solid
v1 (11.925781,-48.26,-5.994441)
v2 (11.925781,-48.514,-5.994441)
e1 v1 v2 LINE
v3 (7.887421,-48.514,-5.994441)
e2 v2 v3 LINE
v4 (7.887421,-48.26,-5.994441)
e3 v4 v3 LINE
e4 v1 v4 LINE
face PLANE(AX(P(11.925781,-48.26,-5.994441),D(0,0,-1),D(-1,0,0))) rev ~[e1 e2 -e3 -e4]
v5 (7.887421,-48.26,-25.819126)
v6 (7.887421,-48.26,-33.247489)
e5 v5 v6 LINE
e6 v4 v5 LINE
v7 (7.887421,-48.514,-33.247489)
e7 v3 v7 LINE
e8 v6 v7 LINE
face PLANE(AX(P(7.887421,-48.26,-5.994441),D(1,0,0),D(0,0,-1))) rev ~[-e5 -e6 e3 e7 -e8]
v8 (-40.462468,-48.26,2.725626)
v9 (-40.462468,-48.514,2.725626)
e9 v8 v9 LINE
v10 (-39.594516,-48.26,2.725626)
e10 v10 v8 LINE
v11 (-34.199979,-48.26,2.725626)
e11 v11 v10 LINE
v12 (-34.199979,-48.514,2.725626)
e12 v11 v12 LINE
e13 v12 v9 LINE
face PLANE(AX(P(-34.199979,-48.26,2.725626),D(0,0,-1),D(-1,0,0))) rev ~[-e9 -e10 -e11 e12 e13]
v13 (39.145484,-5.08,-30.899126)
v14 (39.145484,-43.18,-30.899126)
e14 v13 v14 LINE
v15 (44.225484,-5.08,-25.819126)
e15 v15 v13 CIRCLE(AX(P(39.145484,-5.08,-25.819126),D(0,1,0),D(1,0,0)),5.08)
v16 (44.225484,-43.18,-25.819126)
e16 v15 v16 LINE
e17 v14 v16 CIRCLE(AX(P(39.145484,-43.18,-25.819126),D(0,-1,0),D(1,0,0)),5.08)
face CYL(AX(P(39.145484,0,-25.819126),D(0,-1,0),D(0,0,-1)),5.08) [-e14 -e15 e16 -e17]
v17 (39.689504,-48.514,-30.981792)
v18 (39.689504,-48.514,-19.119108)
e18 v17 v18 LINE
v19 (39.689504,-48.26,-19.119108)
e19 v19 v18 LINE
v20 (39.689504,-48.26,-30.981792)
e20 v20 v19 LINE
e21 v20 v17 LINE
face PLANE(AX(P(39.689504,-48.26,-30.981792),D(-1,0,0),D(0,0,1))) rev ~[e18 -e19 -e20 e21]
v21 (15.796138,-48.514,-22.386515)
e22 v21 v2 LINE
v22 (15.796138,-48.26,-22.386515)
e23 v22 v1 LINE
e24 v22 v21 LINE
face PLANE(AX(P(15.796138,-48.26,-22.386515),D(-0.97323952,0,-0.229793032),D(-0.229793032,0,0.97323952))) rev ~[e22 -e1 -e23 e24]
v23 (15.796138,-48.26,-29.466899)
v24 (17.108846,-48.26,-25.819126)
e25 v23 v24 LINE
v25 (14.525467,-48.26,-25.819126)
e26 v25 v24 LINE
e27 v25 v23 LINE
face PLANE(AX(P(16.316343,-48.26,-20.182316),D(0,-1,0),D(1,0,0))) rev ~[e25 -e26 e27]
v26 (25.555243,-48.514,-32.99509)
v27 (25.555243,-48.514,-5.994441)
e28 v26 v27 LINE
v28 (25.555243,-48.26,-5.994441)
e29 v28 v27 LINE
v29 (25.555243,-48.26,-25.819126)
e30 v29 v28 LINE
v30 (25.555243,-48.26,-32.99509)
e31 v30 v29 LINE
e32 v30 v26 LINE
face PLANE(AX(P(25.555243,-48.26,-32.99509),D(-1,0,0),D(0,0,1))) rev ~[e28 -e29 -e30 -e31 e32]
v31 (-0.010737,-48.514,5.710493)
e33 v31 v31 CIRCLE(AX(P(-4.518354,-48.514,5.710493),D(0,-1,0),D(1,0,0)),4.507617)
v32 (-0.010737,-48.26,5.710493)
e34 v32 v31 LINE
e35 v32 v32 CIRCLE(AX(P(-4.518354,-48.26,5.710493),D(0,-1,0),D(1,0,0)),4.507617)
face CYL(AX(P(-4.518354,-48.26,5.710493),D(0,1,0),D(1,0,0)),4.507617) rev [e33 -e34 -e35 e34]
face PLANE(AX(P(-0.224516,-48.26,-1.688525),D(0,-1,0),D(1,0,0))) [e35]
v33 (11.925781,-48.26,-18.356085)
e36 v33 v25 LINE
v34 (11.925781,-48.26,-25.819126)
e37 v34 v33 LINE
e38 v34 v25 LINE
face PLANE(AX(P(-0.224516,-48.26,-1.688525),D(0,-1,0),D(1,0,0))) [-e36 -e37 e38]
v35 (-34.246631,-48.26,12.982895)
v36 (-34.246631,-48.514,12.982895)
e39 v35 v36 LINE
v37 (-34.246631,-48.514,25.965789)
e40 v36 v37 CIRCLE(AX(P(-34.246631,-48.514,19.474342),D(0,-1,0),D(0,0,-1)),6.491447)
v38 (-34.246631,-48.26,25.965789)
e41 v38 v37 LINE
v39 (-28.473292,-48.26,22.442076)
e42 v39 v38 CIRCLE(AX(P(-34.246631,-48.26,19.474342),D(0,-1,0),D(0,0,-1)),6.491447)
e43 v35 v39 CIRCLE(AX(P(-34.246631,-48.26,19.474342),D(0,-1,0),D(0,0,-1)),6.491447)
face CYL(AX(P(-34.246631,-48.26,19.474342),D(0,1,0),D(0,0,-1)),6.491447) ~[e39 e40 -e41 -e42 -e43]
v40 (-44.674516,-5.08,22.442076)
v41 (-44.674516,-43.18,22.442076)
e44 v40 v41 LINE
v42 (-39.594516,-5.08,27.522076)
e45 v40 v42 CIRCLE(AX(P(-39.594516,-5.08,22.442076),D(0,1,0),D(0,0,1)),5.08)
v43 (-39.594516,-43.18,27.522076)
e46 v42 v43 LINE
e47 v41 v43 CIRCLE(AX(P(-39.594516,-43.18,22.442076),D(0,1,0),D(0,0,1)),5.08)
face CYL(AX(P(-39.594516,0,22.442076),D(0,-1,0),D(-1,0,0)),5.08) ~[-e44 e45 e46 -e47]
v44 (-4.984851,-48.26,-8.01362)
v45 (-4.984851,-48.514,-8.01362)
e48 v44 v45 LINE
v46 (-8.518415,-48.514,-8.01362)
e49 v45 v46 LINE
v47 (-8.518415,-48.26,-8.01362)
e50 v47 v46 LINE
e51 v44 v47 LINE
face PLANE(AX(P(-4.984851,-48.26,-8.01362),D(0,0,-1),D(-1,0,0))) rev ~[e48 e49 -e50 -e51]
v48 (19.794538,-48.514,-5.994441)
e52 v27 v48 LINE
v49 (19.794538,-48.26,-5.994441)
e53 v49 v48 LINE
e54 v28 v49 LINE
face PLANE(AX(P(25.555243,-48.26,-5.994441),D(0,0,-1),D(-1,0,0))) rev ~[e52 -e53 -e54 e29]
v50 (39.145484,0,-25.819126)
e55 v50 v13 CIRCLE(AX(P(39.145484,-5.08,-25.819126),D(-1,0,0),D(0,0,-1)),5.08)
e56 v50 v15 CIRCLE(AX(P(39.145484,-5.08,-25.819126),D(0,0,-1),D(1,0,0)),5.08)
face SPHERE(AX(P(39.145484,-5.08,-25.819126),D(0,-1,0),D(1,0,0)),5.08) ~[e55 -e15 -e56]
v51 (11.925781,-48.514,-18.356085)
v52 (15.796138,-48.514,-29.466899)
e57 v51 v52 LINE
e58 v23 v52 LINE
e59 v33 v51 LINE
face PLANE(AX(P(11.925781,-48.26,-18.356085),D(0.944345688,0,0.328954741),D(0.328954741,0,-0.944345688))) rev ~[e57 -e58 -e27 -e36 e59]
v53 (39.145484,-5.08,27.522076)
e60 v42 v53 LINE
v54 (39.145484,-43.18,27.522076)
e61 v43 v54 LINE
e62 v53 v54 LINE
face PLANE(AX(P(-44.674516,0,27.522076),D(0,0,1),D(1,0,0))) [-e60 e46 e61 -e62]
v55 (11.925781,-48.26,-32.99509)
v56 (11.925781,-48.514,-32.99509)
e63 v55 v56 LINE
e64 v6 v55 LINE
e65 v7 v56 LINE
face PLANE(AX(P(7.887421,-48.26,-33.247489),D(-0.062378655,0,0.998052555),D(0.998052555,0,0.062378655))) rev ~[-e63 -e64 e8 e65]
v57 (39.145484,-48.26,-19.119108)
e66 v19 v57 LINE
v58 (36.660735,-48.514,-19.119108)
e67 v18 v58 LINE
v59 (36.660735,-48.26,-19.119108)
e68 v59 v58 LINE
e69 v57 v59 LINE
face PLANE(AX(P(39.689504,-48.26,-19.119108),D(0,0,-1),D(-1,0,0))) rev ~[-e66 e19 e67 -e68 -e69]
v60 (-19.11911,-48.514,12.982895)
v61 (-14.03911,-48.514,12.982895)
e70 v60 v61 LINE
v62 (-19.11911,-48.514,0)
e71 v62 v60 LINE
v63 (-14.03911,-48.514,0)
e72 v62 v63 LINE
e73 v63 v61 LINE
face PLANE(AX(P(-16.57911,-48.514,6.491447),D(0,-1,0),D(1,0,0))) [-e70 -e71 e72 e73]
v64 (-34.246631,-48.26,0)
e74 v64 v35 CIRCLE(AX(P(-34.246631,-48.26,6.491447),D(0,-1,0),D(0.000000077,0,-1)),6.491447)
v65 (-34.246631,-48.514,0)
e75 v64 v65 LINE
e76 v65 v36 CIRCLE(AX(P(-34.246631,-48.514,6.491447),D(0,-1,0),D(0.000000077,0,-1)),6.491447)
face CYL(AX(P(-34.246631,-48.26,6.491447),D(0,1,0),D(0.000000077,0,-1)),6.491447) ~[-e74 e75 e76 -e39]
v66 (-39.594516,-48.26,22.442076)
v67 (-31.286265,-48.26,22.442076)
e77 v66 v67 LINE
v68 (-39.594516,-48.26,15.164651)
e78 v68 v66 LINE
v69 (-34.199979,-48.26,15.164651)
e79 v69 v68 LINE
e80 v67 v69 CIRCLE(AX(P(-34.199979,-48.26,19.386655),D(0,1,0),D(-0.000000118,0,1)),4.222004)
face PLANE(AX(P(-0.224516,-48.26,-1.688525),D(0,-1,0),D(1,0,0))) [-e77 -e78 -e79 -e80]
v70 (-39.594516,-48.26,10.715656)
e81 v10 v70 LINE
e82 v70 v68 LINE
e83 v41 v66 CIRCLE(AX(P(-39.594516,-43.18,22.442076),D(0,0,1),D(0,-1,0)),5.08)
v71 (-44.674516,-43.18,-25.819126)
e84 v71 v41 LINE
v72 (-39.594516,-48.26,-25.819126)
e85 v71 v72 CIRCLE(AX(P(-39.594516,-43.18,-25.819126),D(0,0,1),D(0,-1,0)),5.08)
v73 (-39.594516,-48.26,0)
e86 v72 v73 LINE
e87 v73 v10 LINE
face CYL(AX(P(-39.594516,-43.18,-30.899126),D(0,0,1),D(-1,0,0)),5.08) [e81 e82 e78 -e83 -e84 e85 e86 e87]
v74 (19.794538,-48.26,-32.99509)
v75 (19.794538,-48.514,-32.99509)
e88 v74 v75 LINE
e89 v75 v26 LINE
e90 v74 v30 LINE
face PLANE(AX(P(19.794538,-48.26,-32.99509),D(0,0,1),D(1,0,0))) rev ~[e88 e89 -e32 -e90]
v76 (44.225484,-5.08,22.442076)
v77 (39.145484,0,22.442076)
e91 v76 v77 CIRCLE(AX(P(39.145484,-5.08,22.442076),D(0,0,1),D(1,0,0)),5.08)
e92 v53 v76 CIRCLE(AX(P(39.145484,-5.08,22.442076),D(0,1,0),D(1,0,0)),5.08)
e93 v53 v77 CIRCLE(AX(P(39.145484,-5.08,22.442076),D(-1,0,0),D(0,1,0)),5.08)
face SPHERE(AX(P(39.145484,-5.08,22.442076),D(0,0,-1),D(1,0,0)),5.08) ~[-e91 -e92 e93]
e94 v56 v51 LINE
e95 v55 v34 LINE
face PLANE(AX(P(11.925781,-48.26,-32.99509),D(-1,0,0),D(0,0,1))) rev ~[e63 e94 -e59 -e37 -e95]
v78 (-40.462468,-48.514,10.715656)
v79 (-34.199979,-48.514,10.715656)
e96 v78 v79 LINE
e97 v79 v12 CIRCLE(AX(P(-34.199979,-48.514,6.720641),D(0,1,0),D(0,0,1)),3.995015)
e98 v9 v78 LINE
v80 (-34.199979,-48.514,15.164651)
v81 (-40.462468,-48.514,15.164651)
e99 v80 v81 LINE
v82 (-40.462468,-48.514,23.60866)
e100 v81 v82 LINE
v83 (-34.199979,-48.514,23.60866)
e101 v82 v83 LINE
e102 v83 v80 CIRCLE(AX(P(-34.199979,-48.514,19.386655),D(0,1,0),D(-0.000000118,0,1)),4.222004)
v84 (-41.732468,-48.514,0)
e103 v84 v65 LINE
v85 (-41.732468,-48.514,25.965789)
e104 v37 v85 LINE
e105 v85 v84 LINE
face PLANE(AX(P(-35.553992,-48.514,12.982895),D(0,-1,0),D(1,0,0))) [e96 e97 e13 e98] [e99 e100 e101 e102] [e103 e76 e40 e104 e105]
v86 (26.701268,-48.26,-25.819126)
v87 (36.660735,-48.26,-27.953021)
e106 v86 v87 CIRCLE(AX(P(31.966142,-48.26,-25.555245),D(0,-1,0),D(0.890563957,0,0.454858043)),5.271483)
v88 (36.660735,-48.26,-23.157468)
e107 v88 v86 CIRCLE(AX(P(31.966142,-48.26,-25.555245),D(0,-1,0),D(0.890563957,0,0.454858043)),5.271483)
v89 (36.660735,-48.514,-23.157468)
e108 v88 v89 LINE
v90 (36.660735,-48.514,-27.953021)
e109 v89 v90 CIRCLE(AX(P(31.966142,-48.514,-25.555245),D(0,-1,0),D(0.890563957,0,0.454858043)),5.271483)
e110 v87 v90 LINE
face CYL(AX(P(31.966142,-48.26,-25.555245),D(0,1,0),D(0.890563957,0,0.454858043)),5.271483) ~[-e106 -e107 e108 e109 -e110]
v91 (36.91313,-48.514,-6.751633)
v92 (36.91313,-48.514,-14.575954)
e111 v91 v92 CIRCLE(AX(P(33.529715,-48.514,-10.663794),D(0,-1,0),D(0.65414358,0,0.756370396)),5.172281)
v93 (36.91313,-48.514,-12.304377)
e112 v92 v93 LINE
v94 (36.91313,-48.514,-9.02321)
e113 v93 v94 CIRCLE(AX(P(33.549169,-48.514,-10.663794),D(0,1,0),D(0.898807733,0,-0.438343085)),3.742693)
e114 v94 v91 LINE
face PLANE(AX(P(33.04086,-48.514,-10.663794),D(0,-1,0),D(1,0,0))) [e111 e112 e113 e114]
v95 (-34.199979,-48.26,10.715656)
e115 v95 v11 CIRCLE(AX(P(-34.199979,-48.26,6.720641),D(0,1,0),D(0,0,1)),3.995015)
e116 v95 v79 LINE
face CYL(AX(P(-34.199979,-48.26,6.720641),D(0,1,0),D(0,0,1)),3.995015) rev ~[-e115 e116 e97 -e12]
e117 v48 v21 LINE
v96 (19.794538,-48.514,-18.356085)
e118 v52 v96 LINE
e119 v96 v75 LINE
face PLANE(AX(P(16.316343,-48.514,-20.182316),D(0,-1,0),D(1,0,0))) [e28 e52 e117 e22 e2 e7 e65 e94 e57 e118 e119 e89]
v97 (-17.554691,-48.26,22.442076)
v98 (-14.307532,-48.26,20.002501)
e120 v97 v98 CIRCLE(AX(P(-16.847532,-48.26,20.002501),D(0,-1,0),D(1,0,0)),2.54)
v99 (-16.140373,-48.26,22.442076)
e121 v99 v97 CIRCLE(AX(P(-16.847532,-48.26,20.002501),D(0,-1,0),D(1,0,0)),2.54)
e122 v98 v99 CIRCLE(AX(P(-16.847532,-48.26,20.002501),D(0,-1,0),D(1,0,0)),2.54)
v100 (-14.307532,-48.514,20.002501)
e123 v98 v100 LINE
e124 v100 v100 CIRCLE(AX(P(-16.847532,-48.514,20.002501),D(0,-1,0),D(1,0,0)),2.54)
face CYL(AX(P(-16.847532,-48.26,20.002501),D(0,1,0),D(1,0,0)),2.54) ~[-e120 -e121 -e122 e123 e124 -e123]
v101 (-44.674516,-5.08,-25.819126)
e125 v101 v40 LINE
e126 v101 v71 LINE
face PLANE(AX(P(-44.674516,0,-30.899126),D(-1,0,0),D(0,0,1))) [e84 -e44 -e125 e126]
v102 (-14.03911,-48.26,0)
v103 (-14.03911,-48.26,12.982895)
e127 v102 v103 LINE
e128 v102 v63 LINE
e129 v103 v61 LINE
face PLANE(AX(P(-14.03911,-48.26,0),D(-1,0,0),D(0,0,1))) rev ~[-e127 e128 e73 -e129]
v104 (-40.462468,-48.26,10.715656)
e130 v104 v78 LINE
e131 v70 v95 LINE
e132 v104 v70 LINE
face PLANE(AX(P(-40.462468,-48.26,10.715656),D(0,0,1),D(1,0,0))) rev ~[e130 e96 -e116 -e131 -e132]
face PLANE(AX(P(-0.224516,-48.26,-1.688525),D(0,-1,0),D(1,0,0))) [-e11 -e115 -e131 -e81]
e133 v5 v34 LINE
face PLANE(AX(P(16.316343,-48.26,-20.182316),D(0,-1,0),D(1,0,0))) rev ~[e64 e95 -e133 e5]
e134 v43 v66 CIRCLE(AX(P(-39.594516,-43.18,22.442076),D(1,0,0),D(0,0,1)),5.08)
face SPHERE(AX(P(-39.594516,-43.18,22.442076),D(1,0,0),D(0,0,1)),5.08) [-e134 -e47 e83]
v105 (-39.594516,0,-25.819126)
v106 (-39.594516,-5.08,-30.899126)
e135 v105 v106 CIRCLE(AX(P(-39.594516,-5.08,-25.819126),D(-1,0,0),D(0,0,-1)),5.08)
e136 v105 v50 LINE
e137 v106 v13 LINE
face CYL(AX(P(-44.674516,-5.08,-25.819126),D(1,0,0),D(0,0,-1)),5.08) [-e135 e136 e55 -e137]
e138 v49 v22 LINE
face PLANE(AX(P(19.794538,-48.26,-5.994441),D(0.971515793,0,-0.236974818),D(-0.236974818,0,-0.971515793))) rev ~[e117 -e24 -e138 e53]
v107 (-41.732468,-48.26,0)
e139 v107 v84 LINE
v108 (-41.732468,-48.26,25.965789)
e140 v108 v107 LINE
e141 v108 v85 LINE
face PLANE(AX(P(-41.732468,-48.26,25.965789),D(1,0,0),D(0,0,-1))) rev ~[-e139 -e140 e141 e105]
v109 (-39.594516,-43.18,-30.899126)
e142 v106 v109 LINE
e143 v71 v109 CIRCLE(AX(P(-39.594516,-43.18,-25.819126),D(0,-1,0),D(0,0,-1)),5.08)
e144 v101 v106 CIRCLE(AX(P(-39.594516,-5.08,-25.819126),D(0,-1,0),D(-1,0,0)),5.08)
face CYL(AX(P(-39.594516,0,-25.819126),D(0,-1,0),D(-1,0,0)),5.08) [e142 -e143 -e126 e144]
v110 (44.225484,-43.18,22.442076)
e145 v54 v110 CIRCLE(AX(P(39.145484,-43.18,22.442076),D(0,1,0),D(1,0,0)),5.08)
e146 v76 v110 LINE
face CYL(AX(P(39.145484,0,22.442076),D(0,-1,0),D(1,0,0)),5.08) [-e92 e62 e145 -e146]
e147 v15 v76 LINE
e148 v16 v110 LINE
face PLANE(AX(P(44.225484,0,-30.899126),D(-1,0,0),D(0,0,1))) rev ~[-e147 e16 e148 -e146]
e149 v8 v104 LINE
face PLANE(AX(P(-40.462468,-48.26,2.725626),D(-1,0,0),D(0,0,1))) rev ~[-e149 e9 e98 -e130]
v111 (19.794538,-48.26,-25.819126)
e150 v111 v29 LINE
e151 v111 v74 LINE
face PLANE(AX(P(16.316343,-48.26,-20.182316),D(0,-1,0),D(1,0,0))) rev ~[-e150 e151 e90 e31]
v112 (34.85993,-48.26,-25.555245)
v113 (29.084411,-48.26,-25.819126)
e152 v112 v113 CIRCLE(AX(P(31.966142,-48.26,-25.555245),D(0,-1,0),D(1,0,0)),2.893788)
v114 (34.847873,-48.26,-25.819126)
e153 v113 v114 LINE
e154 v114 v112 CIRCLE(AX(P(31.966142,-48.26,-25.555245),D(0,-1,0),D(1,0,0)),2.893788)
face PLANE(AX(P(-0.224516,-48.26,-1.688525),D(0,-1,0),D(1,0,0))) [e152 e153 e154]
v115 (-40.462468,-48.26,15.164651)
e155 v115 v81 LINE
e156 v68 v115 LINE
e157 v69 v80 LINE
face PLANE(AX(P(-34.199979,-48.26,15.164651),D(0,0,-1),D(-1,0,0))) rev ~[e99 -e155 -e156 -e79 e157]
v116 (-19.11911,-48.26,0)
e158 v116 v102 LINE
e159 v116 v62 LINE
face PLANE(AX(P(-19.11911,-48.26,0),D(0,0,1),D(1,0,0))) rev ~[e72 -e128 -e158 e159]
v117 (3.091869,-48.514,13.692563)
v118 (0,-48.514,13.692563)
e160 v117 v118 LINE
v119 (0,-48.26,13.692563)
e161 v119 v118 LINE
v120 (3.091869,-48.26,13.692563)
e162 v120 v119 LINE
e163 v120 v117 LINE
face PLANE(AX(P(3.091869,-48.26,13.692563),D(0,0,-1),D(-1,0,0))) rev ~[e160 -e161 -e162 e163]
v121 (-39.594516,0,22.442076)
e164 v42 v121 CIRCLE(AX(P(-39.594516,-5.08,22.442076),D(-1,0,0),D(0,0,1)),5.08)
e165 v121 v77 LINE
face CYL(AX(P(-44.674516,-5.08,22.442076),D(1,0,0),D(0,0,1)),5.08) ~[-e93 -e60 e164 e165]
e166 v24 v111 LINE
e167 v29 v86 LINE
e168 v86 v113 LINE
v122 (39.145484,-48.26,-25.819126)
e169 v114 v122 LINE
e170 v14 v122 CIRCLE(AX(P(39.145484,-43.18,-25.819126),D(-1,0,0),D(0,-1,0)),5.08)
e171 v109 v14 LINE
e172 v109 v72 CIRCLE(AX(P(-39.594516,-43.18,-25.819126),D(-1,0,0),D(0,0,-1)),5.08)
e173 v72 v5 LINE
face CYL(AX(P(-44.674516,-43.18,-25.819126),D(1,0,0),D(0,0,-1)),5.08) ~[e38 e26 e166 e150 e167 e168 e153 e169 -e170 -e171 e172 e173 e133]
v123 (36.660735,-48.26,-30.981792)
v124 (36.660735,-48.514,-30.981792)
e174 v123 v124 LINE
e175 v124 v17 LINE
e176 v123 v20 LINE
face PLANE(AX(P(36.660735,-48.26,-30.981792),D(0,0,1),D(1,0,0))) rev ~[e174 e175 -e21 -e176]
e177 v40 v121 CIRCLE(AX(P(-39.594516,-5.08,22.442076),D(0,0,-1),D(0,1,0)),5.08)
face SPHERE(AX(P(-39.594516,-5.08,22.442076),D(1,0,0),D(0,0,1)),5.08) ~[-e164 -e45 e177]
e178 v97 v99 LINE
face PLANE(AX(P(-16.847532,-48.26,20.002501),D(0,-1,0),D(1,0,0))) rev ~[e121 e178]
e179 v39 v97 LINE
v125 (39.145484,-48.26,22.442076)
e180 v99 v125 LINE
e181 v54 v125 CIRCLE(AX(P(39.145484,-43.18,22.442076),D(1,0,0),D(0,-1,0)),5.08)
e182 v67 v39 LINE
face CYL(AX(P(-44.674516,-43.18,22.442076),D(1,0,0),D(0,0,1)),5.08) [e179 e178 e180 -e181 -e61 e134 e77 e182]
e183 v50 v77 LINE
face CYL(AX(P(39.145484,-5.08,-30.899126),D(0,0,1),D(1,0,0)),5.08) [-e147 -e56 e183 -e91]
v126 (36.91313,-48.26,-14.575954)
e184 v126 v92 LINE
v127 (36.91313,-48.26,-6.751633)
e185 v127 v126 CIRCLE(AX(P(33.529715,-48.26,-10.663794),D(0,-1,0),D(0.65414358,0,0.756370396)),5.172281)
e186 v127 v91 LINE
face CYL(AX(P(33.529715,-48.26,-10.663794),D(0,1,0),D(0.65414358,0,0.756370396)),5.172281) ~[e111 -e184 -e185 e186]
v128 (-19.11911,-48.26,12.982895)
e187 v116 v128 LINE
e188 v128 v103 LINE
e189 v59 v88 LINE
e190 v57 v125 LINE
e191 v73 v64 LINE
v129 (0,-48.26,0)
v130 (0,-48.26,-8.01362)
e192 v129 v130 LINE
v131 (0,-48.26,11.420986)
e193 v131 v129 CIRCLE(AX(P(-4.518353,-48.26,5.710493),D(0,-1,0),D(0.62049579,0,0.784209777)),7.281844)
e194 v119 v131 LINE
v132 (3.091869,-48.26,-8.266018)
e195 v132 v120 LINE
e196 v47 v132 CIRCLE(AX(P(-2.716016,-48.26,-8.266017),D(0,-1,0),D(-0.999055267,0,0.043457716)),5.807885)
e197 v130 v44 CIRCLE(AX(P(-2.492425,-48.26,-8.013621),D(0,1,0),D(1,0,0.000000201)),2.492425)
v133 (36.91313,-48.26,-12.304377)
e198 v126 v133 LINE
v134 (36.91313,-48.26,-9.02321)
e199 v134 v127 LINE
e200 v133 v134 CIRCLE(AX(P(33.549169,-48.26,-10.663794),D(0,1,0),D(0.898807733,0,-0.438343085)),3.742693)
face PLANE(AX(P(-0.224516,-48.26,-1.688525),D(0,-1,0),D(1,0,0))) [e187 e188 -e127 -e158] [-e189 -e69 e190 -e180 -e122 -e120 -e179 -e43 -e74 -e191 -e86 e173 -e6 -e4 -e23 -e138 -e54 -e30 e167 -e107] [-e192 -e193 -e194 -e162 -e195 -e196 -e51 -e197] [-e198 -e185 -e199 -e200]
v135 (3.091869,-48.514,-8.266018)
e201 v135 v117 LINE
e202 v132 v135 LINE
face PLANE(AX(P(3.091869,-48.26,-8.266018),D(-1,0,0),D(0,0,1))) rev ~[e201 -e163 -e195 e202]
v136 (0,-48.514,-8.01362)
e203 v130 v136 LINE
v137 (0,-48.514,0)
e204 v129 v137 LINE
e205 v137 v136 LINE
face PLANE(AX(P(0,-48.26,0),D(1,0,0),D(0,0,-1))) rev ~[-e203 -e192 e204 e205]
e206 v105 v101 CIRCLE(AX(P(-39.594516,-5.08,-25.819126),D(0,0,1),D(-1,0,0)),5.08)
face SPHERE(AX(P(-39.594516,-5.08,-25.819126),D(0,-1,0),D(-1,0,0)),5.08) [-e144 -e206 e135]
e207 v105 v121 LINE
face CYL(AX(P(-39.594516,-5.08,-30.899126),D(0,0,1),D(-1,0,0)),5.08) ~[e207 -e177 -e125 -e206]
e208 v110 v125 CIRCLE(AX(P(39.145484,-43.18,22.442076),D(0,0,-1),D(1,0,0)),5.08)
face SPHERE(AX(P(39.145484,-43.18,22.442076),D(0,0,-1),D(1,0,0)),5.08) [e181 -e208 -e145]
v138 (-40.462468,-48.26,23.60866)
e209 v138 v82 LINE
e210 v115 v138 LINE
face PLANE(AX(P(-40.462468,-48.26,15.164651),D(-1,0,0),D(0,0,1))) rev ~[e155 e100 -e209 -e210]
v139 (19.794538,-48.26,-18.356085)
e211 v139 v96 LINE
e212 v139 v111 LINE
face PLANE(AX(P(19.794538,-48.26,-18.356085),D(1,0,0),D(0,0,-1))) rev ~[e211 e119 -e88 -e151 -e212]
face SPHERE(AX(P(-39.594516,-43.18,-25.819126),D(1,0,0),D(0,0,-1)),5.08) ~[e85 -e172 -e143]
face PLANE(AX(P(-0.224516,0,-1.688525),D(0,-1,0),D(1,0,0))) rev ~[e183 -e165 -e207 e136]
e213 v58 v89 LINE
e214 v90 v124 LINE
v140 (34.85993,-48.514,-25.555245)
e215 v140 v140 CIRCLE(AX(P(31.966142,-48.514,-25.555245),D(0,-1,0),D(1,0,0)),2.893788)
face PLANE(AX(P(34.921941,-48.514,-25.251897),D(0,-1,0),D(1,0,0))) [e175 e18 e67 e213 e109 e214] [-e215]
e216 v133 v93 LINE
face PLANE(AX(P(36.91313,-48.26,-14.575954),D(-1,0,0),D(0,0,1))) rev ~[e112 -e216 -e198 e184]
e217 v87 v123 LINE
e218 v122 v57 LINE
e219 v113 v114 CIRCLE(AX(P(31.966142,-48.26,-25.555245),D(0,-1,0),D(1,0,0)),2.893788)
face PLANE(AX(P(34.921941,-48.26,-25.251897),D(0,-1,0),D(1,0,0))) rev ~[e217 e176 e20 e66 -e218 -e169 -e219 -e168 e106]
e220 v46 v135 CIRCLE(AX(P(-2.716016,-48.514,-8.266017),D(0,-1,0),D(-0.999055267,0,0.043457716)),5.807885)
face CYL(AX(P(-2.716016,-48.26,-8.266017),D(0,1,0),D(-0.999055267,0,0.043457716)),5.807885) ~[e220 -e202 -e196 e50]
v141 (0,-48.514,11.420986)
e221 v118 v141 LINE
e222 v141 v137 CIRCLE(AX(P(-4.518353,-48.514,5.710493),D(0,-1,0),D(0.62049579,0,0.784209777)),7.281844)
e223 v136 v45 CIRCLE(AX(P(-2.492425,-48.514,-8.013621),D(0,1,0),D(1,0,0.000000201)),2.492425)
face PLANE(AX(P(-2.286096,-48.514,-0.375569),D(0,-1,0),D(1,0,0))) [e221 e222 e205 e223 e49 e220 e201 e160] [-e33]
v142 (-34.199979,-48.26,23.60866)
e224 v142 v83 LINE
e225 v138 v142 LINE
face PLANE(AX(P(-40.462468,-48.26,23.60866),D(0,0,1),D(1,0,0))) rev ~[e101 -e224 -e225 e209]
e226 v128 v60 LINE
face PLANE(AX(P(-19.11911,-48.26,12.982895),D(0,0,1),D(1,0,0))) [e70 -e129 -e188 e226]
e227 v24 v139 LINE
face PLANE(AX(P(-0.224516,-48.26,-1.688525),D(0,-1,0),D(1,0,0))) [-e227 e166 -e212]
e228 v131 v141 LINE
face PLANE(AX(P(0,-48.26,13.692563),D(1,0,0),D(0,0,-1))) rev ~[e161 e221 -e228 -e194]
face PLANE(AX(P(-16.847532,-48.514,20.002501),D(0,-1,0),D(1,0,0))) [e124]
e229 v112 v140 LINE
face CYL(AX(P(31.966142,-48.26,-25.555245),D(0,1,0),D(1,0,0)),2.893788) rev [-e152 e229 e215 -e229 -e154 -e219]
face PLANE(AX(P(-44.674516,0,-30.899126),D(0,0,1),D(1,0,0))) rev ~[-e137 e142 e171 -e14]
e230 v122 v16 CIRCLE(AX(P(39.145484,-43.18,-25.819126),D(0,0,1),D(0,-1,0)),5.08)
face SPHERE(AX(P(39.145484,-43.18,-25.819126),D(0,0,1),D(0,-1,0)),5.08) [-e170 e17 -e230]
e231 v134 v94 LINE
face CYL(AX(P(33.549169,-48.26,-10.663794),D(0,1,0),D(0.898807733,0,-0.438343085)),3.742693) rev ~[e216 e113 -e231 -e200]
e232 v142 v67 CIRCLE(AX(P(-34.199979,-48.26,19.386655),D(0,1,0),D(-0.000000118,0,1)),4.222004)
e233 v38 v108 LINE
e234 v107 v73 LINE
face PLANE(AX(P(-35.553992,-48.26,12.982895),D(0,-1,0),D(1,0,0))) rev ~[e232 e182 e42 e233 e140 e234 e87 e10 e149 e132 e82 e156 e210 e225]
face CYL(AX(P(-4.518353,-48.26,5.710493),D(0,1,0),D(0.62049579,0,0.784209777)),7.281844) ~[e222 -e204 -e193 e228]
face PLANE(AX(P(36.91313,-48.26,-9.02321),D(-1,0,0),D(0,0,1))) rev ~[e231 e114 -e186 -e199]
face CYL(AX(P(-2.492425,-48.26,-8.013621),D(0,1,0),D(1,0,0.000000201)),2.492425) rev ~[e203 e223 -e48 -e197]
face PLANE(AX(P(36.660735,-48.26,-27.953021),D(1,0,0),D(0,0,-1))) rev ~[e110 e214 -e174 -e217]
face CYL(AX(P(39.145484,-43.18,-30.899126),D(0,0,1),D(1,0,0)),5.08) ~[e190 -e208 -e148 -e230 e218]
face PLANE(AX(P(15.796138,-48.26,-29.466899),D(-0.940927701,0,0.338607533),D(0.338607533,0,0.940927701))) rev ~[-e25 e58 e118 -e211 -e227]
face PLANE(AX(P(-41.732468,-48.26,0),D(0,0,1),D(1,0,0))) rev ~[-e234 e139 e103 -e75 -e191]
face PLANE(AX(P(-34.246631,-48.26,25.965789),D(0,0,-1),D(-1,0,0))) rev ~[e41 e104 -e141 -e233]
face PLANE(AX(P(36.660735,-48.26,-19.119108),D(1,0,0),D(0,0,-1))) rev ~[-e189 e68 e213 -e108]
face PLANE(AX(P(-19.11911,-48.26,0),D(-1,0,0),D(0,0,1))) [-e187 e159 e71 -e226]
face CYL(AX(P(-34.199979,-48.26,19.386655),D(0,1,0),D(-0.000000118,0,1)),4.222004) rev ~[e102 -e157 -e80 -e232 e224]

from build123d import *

# Parameters (mm, degrees)
F0_W     = 88.9
F0_H     = 58.421202
F1_DEPTH = 48.26
F2_R     = 5.08
F3_W     = 5.08
F3_H     = 12.982895
F3_R     = 2.54
F3_R_2   = 4.507617
F3_R_3   = 2.893788
F4_DEPTH = 0.254


with BuildPart() as f1:
    # F0 (on Front) → F1 (new body)
    with BuildSketch(Plane.XZ):
        with Locations((-0.224516, -1.688525)):
            Rectangle(F0_W, F0_H)
    extrude(amount=F1_DEPTH)

    # F2
    f2_edges = [f1.edges().sort_by_distance(p)[0] for p in [
        (44.225484, -48.26, -1.688525),
        (-0.224516, -48.26, -30.899126),
        (44.225484, -24.13, -30.899126),
        (44.225484, 0, -1.688525),
        (44.225484, -24.13, 27.522076),
        (-0.224516, 0, 27.522076),
        (-0.224516, -48.26, 27.522076),
        (-44.674516, -24.13, 27.522076),
        (-44.674516, -24.13, -30.899126),
        (-44.674516, 0, -1.688525),
        (-0.224516, 0, -30.899126),
        (-44.674516, -48.26, -1.688525),
    ]]
    fillet(f2_edges, radius=F2_R)

    # F3 (on face) → F4 (join)
    with BuildSketch(Plane.XZ.offset(48.26)):
        with BuildLine():
            Line((-34.246631, 25.965789), (-41.732468, 25.965789))
            Line((-41.732468, 25.965789), (-41.732468, 0))
            Line((-41.732468, 0), (-34.246631, 0))
            ThreePointArc((-34.246631, 0), (-27.755184, 6.491447), (-34.246631, 12.982895))
            ThreePointArc((-34.246631, 12.982895), (-27.755184, 19.474342), (-34.246631, 25.965789))
        make_face()
        with BuildLine():
            Line((-40.462468, 2.725626), (-40.462468, 10.715656))
            Line((-40.462468, 10.715656), (-34.199979, 10.715656))
            ThreePointArc((-34.199979, 10.715656), (-30.204964, 6.720641), (-34.199979, 2.725626))
            Line((-34.199979, 2.725626), (-40.462468, 2.725626))
        make_face(mode=Mode.SUBTRACT)
        with BuildLine():
            Line((-40.462468, 15.164651), (-40.462468, 23.60866))
            Line((-40.462468, 23.60866), (-34.199979, 23.60866))
            ThreePointArc((-34.199979, 23.60866), (-29.977974, 19.386656), (-34.199979, 15.164651))
            Line((-34.199979, 15.164651), (-40.462468, 15.164651))
        make_face(mode=Mode.SUBTRACT)
        with Locations((-16.57911, 6.491447)):
            Rectangle(F3_W, F3_H)
        with Locations((-16.847532, 20.002501)):
            Circle(F3_R)
        with BuildLine():
            Line((3.091869, 13.692563), (0, 13.692563))
            Line((0, 13.692563), (0, 11.420986))
            ThreePointArc((0, 11.420986), (-11.800197, 5.710493), (0, 0))
            Line((0, 0), (0, -4.98485))
            Line((0, -4.98485), (0, -8.01362))
            ThreePointArc((0, -8.01362), (-2.492425, -10.506046), (-4.984851, -8.01362))
            Line((-4.984851, -8.01362), (-8.518415, -8.01362))
            ThreePointArc((-8.518415, -8.01362), (-2.842245, -14.072531), (3.091869, -8.266018))
            Line((3.091869, -8.266018), (3.091869, -5.489645))
            Line((3.091869, -5.489645), (3.091869, -2.965671))
            Line((3.091869, -2.965671), (3.091869, 13.692563))
        make_face()
        with Locations((-4.518354, 5.710493)):
            Circle(F3_R_2, mode=Mode.SUBTRACT)
        Polygon((7.887421, -5.994441), (7.887421, -33.247489), (11.925781, -32.99509), (11.925781, -18.356085), (15.796138, -29.466899), (19.794538, -18.356085), (19.794538, -32.99509), (25.555243, -32.99509), (25.555243, -5.994441), (19.794538, -5.994441), (15.796138, -22.386515), (11.925781, -5.994441), align=None)
        with BuildLine():
            Line((36.660735, -19.119108), (36.660735, -23.157468))
            ThreePointArc((36.660735, -23.157468), (26.694659, -25.555245), (36.660735, -27.953021))
            Line((36.660735, -27.953021), (36.660735, -30.981792))
            Line((36.660735, -30.981792), (39.689504, -30.981792))
            Line((39.689504, -30.981792), (39.689504, -19.119108))
            Line((39.689504, -19.119108), (36.660735, -19.119108))
        make_face()
        with Locations((31.966142, -25.555245)):
            Circle(F3_R_3, mode=Mode.SUBTRACT)
        with BuildLine():
            Line((36.91313, -9.02321), (36.91313, -6.751633))
            ThreePointArc((36.91313, -6.751633), (28.357434, -10.663793), (36.91313, -14.575954))
            Line((36.91313, -14.575954), (36.91313, -12.304377))
            ThreePointArc((36.91313, -12.304377), (29.806476, -10.663793), (36.91313, -9.02321))
        make_face()
    extrude(amount=F4_DEPTH)


solid = f1.part
